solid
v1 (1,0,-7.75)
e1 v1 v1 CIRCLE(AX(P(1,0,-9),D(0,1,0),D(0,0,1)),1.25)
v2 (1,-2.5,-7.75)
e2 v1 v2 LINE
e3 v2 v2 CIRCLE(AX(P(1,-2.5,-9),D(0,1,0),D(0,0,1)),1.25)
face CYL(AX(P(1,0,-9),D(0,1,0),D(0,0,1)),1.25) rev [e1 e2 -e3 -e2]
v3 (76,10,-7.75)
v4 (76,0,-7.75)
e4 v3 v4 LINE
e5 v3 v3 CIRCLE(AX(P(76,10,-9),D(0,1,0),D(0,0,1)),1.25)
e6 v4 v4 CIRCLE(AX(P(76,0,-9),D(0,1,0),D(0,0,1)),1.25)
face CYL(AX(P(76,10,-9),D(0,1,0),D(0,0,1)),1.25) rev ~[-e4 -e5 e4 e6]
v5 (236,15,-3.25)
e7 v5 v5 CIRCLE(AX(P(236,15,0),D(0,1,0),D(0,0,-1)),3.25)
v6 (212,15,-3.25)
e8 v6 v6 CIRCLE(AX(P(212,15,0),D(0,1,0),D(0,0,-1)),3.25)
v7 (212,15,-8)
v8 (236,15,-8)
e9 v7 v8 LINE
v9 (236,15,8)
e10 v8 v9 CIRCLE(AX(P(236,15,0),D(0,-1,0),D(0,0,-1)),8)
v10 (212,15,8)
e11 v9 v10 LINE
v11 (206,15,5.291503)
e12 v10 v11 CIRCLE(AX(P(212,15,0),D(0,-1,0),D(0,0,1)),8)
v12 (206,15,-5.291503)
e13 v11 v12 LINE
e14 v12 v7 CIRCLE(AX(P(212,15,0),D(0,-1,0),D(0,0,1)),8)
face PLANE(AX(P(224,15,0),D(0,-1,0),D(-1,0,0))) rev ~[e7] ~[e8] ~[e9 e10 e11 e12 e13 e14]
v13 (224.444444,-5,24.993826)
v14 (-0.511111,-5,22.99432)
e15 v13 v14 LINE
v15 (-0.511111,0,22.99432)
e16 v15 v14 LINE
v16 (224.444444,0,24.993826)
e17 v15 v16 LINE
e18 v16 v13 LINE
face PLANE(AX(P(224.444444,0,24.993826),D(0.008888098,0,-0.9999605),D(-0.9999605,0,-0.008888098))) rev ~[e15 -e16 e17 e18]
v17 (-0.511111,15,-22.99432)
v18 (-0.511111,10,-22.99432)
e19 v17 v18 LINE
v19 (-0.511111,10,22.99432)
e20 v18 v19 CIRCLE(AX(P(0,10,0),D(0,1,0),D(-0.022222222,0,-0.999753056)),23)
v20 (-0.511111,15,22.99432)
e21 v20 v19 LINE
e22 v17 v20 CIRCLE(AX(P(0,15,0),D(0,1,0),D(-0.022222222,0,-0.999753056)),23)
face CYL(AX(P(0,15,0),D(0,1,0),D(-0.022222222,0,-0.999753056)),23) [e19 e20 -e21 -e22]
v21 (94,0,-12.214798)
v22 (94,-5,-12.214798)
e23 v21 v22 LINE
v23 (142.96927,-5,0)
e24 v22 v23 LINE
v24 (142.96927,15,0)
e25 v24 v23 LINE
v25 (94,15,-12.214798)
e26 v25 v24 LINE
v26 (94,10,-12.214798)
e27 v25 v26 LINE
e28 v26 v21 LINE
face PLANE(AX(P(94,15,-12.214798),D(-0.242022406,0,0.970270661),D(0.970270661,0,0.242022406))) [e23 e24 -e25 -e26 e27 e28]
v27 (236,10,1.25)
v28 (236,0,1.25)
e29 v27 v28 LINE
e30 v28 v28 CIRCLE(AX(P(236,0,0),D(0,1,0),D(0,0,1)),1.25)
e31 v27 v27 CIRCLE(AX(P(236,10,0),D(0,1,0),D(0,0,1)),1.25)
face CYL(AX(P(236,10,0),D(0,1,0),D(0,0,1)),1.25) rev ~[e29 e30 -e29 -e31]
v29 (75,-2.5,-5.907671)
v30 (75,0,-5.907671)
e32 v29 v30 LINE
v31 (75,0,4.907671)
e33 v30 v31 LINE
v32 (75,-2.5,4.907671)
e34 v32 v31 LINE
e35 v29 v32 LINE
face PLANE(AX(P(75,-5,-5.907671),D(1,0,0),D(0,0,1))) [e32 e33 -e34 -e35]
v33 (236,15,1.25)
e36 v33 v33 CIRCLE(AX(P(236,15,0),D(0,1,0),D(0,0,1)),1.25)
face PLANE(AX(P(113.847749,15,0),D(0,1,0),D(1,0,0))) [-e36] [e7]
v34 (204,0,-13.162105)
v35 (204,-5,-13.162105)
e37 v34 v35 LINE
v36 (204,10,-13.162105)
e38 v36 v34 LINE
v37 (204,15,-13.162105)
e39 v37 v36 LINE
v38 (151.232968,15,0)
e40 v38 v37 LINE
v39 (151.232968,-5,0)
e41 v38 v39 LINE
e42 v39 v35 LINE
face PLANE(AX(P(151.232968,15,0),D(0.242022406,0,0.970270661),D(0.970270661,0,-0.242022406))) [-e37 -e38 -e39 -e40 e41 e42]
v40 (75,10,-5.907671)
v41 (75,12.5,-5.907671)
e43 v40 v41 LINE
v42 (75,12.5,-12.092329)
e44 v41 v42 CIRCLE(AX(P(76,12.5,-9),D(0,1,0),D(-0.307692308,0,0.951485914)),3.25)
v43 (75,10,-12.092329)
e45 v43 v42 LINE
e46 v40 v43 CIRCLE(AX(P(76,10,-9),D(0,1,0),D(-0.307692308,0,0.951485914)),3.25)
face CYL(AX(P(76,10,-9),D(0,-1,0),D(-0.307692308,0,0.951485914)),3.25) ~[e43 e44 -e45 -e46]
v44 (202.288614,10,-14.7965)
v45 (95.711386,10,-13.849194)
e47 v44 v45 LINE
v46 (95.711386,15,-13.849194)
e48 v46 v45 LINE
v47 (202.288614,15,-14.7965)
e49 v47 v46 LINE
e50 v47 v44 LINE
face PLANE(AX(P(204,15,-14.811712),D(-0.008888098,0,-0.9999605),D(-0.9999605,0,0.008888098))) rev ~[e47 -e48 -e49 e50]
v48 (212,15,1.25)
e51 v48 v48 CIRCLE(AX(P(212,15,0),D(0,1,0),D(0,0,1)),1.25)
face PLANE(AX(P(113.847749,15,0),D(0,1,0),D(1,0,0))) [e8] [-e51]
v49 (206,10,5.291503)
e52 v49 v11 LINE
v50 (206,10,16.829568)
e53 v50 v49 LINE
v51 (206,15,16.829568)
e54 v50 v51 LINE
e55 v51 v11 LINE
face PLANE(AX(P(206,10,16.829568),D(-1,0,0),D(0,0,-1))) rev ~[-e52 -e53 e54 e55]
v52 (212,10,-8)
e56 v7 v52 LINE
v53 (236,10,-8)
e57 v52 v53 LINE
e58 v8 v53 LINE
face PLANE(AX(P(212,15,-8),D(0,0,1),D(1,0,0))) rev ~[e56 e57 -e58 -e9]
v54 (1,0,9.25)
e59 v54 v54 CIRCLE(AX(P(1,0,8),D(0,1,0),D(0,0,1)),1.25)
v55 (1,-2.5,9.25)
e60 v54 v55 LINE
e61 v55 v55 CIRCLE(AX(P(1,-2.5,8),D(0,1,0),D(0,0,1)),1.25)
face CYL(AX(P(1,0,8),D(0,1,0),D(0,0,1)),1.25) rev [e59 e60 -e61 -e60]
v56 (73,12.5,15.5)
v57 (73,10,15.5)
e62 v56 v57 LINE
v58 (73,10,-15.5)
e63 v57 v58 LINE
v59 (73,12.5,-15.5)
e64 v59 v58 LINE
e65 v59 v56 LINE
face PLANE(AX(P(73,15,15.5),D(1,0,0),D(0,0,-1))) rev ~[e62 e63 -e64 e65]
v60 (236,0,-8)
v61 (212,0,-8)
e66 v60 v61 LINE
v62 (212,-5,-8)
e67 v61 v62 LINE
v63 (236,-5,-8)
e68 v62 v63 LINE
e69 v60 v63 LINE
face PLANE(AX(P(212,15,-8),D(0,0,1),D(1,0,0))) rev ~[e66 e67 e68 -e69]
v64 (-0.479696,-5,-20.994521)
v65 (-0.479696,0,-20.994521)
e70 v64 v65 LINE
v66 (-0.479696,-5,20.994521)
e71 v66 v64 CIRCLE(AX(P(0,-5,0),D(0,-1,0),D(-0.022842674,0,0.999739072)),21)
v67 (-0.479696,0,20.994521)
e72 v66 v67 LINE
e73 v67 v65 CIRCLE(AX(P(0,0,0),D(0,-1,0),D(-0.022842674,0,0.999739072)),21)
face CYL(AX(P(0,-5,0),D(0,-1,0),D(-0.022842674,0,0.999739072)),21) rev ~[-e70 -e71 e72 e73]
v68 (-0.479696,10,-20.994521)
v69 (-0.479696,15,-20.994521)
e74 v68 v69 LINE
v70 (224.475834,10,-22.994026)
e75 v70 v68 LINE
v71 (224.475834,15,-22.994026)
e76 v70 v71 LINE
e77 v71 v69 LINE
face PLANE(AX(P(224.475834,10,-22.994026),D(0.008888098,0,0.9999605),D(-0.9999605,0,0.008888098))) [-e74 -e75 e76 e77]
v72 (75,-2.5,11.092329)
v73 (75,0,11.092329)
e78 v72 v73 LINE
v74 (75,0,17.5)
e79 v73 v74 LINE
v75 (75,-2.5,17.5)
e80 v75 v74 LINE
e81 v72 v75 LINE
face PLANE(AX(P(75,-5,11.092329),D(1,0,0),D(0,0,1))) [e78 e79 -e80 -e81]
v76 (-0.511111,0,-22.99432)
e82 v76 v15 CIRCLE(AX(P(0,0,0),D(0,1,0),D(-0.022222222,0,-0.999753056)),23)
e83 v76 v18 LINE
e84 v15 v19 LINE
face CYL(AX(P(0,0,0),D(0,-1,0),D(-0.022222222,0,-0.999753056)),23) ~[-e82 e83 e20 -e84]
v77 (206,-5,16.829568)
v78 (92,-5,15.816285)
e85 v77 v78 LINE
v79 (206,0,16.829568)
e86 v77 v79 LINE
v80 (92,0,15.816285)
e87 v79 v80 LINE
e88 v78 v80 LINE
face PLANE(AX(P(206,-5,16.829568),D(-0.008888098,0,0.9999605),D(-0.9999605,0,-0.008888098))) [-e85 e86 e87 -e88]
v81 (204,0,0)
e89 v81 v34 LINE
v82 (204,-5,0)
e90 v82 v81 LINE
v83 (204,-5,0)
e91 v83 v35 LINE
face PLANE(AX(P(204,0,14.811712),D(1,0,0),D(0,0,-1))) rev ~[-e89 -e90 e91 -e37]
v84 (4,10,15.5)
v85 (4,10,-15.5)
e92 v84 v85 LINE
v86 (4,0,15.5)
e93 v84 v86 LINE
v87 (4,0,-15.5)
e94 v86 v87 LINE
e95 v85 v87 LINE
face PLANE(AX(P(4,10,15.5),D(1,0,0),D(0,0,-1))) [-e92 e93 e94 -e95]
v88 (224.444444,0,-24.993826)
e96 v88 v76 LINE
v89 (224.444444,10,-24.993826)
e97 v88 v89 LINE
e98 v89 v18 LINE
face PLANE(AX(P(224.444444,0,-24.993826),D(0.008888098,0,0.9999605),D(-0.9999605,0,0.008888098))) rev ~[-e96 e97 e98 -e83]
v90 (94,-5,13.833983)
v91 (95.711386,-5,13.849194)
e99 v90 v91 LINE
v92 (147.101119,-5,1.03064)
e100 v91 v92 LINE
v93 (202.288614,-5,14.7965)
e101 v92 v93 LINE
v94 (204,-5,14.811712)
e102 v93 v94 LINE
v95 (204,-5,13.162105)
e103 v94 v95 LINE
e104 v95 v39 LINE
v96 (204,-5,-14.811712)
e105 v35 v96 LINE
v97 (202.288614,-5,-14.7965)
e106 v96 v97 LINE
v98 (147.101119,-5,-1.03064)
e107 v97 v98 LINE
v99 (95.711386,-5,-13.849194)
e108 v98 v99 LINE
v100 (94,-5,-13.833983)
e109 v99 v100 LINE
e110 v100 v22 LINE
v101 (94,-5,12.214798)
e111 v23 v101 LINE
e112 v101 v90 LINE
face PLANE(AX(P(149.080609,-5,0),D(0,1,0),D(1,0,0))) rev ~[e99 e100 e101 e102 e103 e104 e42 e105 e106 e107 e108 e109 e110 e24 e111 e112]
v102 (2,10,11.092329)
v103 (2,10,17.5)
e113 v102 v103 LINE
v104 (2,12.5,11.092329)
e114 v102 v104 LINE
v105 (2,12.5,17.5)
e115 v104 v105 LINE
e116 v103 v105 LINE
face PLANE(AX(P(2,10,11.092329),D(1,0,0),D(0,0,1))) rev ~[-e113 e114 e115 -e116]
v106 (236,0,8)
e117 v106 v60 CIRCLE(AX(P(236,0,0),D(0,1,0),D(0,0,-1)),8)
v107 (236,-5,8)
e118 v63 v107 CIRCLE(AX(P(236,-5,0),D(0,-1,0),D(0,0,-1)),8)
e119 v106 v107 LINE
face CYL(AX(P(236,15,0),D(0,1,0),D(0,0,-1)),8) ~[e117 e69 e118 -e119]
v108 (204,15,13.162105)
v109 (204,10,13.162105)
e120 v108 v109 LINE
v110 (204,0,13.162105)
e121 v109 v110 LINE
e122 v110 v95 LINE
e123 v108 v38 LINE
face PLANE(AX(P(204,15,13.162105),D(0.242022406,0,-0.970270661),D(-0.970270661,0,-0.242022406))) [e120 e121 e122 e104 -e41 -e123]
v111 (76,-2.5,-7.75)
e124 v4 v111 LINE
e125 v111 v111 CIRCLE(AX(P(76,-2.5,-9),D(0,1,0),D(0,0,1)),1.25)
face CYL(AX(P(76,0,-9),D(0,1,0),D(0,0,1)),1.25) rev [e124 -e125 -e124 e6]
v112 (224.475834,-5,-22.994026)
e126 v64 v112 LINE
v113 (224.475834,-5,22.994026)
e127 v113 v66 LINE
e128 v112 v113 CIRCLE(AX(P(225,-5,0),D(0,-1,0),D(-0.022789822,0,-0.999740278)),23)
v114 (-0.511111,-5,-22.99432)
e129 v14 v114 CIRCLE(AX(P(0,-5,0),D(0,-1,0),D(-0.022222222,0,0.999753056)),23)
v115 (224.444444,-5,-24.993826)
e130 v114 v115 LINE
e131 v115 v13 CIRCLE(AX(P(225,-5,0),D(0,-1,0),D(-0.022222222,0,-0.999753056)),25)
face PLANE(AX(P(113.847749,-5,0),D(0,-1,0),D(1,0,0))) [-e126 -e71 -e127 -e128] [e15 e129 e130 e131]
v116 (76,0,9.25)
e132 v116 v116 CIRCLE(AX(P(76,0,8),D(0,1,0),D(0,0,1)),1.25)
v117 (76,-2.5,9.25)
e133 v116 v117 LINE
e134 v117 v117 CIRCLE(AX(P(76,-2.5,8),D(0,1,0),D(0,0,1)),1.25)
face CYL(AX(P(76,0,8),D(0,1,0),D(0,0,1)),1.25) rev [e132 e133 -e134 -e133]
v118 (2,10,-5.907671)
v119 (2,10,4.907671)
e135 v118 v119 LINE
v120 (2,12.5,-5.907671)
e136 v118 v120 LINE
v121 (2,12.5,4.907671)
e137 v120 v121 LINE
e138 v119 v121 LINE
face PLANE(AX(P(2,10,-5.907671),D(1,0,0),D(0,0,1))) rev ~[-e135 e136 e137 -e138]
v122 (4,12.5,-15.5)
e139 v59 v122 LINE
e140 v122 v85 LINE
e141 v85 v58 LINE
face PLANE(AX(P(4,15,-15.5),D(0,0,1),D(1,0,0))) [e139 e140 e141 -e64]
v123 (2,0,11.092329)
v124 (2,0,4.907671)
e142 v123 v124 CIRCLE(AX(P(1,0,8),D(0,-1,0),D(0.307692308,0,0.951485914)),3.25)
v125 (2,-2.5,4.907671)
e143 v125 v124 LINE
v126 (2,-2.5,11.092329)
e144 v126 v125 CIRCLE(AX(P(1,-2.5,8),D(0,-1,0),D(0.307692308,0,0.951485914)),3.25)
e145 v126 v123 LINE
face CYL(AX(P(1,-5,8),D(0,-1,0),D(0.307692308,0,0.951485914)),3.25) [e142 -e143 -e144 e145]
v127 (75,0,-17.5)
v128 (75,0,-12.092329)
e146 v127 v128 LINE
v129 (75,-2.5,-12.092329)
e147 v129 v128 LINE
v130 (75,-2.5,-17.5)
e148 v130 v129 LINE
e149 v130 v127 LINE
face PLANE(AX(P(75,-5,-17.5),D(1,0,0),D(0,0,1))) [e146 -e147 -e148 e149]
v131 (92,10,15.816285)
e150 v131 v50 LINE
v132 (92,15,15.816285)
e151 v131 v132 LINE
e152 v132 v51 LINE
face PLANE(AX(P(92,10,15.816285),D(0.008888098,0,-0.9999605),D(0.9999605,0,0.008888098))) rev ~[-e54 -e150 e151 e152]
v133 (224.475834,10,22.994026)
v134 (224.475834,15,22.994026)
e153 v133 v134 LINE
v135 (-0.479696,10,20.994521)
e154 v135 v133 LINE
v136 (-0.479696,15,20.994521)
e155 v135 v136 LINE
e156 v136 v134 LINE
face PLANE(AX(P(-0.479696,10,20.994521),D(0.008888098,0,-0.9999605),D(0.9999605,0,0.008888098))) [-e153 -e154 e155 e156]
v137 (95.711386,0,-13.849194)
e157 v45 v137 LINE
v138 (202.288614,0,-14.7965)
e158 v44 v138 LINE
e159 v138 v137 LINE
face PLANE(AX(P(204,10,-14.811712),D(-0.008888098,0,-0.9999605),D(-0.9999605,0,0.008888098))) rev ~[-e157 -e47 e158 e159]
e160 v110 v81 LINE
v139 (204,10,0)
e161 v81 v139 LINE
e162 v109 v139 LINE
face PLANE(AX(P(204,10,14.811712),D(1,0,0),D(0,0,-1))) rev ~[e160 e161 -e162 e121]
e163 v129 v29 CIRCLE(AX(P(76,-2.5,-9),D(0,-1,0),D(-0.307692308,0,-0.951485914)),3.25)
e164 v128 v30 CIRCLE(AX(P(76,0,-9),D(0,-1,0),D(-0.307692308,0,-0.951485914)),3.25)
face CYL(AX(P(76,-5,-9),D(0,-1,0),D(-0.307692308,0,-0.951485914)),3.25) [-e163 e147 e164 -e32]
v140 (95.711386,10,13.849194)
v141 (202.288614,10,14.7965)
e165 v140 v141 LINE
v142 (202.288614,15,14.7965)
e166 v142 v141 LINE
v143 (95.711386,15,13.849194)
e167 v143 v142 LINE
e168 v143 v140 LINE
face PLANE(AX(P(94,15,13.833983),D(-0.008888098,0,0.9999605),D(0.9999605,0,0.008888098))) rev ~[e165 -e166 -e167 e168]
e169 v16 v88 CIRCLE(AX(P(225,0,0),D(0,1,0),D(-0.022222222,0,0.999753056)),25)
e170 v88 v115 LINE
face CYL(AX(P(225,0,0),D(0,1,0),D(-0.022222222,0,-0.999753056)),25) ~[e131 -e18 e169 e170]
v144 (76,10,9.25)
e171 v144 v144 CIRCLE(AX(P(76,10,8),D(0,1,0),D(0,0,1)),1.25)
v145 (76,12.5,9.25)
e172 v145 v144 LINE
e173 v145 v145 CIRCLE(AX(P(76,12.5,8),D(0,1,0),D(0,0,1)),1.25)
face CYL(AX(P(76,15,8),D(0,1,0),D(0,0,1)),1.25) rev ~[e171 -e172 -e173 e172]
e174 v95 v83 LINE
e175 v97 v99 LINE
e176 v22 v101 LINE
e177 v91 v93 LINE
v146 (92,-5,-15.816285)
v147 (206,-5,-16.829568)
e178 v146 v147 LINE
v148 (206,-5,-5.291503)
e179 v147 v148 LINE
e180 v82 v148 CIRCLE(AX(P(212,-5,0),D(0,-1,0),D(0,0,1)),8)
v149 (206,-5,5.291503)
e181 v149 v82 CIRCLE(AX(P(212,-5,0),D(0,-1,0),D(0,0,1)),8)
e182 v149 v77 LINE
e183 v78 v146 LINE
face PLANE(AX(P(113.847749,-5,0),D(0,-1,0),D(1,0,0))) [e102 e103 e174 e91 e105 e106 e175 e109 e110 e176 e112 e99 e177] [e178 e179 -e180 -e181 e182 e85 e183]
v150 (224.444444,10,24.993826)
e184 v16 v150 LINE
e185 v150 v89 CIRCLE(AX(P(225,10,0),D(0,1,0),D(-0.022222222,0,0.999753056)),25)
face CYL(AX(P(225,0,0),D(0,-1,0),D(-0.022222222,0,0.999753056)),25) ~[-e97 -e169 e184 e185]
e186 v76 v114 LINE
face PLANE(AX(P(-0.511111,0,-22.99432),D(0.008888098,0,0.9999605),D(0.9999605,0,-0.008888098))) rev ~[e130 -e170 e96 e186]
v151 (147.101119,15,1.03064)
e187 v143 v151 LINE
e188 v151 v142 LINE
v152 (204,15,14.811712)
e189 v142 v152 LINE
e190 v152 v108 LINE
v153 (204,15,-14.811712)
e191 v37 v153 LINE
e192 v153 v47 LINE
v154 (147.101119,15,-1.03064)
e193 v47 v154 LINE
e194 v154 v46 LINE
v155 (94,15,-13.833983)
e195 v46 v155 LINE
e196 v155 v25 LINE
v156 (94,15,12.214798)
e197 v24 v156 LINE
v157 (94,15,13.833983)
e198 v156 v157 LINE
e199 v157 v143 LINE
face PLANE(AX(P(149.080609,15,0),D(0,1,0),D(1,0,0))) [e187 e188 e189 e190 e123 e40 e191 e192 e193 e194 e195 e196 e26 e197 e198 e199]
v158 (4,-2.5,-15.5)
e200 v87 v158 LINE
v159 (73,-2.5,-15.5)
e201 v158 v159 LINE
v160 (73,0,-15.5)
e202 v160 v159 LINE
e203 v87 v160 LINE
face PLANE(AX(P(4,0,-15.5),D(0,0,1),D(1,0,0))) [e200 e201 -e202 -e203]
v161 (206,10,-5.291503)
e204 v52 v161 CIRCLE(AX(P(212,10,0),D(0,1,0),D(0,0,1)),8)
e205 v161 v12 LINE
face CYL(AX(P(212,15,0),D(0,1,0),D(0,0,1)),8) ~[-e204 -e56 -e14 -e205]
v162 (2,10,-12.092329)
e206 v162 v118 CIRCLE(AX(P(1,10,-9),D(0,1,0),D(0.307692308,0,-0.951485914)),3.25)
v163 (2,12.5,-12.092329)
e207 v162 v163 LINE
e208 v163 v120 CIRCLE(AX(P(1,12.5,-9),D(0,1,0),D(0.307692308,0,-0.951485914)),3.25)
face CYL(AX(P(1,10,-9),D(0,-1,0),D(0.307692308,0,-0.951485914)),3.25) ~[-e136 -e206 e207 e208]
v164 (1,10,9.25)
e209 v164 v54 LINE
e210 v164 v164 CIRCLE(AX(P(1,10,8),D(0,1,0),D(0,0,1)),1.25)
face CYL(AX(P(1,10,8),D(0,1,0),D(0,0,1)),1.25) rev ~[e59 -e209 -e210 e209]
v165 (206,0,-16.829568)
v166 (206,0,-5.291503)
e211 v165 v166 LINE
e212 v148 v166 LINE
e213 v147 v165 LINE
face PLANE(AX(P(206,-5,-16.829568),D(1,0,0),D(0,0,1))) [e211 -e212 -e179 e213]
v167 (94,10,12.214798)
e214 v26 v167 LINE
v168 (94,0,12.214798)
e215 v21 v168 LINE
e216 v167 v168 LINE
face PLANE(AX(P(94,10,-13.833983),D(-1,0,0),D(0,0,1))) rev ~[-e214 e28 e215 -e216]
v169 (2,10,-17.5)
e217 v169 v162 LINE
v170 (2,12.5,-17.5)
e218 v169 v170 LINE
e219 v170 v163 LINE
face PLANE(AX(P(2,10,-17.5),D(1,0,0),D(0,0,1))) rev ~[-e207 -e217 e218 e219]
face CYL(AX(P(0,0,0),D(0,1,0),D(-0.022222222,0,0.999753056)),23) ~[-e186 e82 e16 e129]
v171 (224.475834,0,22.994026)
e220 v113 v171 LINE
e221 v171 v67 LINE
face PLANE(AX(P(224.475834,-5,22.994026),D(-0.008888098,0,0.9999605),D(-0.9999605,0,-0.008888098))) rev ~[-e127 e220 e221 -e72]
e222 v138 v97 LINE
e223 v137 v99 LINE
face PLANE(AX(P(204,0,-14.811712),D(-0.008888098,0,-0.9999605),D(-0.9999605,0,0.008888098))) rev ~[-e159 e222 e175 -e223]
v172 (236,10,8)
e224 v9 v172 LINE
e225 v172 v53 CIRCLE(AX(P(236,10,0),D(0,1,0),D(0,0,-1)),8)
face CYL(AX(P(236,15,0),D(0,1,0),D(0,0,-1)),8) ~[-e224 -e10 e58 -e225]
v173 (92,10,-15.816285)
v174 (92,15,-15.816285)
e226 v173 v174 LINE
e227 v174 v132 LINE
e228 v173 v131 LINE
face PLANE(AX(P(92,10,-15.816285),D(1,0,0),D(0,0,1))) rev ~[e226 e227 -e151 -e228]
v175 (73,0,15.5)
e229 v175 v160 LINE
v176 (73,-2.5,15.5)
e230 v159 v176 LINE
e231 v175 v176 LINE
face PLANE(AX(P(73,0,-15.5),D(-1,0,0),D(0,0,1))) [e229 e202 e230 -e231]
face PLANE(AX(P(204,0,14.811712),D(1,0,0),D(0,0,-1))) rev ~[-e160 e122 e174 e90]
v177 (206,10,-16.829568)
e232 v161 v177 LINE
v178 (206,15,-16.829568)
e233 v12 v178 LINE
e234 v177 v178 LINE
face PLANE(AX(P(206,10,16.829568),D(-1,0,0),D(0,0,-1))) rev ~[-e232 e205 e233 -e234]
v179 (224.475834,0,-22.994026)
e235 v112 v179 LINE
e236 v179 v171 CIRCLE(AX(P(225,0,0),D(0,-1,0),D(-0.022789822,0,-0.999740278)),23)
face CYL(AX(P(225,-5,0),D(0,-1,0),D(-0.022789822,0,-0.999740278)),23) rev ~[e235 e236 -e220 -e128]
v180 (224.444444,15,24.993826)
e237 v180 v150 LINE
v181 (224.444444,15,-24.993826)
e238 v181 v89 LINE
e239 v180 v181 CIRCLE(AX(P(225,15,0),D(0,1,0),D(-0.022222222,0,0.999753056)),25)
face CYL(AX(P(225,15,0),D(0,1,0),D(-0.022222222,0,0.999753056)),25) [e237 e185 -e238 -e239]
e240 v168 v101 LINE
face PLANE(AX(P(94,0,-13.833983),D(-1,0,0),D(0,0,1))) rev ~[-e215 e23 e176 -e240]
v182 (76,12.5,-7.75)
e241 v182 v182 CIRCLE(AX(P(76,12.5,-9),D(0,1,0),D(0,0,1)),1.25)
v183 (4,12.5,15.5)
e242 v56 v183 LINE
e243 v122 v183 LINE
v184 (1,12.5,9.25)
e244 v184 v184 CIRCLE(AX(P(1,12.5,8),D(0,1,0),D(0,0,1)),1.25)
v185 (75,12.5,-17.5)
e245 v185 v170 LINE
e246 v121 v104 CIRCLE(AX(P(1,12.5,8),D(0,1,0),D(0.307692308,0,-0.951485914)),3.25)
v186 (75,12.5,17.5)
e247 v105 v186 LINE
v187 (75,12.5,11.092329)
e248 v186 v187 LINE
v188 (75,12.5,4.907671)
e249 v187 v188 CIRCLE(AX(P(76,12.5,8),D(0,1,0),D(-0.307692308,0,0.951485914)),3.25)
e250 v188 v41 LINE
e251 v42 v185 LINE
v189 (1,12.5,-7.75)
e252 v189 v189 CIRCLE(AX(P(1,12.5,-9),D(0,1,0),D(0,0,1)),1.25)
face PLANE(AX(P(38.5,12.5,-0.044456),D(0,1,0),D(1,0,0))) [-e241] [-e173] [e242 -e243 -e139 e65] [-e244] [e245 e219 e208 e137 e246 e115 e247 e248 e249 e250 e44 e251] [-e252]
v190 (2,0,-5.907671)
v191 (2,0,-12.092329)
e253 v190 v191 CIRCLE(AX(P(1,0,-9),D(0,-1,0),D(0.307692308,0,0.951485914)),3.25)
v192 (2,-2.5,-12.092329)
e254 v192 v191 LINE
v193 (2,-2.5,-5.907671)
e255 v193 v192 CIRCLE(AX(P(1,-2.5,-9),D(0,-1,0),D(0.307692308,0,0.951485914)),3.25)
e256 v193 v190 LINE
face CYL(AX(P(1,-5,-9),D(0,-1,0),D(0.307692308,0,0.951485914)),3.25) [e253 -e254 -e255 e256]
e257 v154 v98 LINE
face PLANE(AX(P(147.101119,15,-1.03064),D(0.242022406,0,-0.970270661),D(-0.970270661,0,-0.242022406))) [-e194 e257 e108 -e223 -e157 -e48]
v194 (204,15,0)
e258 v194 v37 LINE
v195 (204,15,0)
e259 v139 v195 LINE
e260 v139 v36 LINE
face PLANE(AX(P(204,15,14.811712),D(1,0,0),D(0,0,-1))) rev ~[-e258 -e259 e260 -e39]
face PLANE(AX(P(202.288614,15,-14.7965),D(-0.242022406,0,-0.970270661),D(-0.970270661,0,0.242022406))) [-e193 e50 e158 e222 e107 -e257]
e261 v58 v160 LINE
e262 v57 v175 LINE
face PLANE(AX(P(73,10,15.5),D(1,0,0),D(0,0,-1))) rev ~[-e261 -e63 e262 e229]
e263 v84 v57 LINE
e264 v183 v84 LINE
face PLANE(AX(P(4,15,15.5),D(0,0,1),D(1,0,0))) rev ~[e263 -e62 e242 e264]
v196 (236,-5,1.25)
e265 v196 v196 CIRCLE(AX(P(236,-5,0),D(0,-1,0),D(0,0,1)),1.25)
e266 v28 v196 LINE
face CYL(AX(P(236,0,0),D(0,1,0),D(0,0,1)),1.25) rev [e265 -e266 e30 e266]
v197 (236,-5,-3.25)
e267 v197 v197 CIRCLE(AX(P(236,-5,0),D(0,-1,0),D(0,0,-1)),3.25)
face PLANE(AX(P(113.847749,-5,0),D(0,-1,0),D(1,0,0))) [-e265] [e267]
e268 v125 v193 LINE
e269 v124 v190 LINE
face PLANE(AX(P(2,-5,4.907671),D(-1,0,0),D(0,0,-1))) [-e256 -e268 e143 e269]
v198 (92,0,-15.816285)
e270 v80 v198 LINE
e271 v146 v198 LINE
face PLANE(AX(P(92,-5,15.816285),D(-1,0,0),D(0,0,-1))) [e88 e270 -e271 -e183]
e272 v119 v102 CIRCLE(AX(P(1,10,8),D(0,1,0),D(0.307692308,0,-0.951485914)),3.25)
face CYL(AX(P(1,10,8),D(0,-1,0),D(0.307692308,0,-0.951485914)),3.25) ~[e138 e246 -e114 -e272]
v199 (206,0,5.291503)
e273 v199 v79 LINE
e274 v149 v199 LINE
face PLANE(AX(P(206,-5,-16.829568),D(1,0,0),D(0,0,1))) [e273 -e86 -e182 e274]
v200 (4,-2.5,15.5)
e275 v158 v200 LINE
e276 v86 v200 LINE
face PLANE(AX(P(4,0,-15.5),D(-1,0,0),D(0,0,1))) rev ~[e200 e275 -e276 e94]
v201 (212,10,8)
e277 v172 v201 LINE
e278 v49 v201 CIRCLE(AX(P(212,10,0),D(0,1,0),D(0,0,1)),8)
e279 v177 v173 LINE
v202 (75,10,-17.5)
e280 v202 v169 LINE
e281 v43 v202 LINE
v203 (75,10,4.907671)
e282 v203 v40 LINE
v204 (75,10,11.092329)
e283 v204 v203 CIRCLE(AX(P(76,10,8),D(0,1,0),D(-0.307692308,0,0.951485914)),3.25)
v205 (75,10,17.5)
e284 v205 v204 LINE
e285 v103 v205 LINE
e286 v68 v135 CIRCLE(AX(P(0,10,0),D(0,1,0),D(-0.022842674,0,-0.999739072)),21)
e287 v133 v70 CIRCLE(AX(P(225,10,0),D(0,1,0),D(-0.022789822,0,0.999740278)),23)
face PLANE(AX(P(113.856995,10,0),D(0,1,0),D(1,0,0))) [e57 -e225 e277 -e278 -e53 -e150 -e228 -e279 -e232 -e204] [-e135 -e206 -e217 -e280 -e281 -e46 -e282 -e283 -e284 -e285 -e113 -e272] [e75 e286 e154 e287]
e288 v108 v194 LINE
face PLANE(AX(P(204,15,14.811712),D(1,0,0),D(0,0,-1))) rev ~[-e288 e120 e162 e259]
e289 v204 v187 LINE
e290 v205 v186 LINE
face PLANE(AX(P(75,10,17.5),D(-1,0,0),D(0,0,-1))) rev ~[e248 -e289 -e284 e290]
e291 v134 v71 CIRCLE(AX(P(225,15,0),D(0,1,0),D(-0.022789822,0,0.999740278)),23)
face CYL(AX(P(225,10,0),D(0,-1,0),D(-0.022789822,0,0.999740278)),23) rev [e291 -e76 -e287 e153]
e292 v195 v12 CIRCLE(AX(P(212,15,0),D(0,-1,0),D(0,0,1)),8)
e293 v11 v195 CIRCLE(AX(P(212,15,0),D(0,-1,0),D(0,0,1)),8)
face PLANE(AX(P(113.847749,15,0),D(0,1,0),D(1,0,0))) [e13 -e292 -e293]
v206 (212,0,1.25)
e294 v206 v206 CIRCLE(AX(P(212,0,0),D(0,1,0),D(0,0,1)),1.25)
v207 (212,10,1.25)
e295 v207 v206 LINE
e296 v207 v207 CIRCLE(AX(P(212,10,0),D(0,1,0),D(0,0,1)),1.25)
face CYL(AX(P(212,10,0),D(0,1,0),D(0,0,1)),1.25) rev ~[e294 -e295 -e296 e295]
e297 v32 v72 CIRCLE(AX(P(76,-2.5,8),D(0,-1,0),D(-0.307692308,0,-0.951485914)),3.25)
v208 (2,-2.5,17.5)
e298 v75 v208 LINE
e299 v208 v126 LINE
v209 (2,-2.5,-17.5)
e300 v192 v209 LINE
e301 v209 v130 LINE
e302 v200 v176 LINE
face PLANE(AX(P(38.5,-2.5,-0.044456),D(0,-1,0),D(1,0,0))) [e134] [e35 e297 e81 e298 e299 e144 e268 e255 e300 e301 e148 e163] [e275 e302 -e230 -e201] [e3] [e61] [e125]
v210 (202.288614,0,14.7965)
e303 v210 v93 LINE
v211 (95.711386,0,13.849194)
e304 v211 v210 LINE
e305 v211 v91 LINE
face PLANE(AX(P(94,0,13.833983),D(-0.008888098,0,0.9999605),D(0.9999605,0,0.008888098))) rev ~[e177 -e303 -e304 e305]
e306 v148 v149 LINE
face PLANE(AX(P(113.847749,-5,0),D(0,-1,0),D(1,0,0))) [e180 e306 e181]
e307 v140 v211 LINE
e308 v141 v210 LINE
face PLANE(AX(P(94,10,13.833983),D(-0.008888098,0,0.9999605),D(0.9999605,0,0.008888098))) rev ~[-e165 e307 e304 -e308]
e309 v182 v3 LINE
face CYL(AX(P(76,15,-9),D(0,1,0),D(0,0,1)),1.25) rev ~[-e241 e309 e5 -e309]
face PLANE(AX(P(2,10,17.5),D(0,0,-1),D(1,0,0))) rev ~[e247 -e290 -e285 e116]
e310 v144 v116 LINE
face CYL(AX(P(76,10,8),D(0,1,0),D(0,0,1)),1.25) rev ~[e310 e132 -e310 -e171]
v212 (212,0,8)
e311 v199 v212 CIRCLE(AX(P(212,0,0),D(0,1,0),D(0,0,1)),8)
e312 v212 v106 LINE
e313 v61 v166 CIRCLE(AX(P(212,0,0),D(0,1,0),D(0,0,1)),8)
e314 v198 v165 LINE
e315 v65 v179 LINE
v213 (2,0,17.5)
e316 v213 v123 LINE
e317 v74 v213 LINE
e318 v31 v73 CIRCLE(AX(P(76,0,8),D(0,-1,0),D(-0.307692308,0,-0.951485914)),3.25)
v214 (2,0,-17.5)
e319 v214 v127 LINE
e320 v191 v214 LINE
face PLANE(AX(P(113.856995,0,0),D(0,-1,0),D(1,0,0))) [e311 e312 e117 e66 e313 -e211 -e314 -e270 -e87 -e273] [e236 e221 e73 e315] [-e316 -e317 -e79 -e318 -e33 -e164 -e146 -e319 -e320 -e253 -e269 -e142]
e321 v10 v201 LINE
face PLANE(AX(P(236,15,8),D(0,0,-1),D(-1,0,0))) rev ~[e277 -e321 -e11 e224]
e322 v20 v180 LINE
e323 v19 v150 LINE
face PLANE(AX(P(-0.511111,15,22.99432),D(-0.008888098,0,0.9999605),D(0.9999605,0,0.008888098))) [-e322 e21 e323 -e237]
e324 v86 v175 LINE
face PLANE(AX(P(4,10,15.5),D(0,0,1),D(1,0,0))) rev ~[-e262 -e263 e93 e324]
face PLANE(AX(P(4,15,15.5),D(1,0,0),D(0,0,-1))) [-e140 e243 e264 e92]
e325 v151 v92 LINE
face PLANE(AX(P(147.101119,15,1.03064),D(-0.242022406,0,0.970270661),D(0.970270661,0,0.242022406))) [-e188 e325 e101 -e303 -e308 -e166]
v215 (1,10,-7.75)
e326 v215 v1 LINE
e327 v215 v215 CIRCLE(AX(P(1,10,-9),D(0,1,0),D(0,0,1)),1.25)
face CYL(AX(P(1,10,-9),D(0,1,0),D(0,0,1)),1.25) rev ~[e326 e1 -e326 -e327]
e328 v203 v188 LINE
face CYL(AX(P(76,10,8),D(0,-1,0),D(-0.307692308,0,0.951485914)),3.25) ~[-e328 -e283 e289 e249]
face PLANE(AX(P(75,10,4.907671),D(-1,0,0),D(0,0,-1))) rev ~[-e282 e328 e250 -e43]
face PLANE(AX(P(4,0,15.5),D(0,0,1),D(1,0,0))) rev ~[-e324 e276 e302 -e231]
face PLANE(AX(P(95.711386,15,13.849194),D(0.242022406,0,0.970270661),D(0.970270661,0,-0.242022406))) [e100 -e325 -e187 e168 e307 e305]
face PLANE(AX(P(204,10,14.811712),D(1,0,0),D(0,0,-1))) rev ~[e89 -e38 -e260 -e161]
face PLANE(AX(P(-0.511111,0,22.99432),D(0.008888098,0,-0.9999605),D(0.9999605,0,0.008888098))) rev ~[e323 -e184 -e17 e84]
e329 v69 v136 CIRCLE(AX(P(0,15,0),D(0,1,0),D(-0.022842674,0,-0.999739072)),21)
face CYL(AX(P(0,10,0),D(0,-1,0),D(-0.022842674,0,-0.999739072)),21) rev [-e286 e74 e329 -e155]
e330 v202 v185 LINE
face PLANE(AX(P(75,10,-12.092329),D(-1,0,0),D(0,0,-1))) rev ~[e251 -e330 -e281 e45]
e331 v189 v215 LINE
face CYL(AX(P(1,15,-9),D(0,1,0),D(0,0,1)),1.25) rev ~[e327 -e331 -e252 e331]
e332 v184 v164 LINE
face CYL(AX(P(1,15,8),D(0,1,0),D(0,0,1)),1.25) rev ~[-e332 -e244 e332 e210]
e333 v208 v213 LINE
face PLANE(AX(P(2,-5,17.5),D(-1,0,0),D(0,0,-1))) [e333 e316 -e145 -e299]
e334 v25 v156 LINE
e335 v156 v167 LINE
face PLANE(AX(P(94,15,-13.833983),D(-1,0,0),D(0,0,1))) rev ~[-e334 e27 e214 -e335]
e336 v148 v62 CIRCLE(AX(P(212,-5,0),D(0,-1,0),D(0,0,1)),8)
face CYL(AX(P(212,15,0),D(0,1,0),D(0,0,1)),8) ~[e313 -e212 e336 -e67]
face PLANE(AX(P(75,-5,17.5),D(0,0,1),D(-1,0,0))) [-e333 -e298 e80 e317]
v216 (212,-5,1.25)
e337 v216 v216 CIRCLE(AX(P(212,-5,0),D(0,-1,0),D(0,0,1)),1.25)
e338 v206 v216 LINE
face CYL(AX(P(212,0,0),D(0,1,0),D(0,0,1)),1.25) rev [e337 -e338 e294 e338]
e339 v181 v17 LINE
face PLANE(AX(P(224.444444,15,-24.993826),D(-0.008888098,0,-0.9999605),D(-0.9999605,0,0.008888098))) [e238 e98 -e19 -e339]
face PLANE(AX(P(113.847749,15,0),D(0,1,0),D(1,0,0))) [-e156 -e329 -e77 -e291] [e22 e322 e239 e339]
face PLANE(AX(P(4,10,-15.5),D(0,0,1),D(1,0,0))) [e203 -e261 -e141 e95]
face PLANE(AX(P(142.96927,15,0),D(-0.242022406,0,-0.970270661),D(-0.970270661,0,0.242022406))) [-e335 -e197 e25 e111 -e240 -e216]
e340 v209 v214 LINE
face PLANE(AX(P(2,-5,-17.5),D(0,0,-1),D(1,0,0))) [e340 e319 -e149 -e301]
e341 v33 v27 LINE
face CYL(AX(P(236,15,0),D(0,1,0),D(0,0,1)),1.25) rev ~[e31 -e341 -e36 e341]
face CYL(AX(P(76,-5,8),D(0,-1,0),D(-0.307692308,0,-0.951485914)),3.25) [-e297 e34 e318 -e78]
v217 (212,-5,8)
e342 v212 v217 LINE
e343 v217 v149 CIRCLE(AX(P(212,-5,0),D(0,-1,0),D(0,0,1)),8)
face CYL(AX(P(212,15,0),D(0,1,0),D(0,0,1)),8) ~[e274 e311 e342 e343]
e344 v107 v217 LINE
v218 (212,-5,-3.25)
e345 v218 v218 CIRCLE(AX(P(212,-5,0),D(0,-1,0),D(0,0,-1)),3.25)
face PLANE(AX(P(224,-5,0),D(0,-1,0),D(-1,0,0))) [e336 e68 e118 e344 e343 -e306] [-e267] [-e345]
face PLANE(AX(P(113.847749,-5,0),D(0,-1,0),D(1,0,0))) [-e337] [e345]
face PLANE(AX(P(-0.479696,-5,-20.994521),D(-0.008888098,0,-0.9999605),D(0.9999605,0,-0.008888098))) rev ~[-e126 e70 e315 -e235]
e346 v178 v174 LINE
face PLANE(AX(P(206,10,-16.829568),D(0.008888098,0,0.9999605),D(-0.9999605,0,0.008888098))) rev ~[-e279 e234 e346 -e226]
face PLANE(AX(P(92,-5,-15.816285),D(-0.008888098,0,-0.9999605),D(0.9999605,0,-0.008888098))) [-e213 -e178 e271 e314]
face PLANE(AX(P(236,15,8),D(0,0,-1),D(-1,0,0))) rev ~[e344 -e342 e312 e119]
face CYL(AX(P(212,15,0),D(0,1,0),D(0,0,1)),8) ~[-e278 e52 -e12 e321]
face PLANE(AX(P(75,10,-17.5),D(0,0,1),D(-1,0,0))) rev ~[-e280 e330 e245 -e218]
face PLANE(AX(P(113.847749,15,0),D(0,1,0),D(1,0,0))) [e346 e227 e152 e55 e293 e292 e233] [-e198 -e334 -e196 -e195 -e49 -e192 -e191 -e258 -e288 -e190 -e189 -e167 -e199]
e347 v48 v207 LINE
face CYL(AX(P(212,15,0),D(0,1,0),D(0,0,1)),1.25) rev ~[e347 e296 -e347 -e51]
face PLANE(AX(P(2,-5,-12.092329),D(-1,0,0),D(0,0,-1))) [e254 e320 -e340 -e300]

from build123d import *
from build123d.topology import SkipClean

# Parameters (mm, degrees)
SKETCH1_R           = 1.25
BOSS_EXTRUDE2_DEPTH = 10
BOSS_EXTRUDE3_START = -10
BOSS_EXTRUDE3_DEPTH = 10
SKETCH4_R           = 1.25
SKETCH4_W           = 69
SKETCH4_H           = 31
CUT_EXTRUDE1_DEPTH  = 10
SKETCH5_R           = 1.25
SKETCH5_W           = 69
SKETCH5_H           = 31
BOSS_EXTRUDE4_DEPTH = 5
SKETCH6_R           = 3.25
CUT_EXTRUDE2_DEPTH  = 5
BOSS_EXTRUDE5_START = 5
SKETCH7_R           = 1.25
SKETCH7_W           = 69
SKETCH7_H           = 31
BOSS_EXTRUDE5_DEPTH = 5
CUT_EXTRUDE3_START  = -5
SKETCH8_R           = 3.25
CUT_EXTRUDE3_DEPTH  = 5
CUT_EXTRUDE4_DEPTH  = 2.5
CUT_EXTRUDE5_START  = -2.5
CUT_EXTRUDE5_DEPTH  = 2.5
SKETCH13_R          = 1.25
BOSS_EXTRUDE6_DEPTH = 20
BOSS_EXTRUDE7_DEPTH = 20


with BuildPart() as part:
    # Sketch1 → Boss-Extrude2 (new body)
    with BuildSketch(Plane(origin=(0, 0, 0), x_dir=(1, 0, 0), z_dir=(0, 1, 0))):
        with BuildLine():
            Line((224.444444444, 24.993826398), (-0.444444444, 19.995061119))
            ThreePointArc((-0.444444444, 19.995061119), (-20, 0), (-0.444444444, -19.995061119))
            Line((-0.444444444, -19.995061119), (224.444444444, -24.993826398))
            ThreePointArc((224.444444444, -24.993826398), (250, 0), (224.444444444, 24.993826398))
        make_face()
        with Locations(Location((1, -8, 0), (0, 0, 270))):
            Circle(SKETCH1_R, mode=Mode.SUBTRACT)
        Polygon((4, -15.5), (4, 0), (4, 9), (4, 15.5), (73, 15.5), (73, -15.5), align=None, mode=Mode.SUBTRACT)
        with Locations(Location((76, -8, 0), (0, 0, 270))):
            Circle(SKETCH1_R, mode=Mode.SUBTRACT)
        Polygon((94, -12.091874906), (94, 0), (94, 12.091874906), (204, 14.53692314), (204, 0), (204, -14.53692314), align=None, mode=Mode.SUBTRACT)
        with Locations(Location((212, 0, 0), (0, 0, 270))):
            Circle(SKETCH1_R, mode=Mode.SUBTRACT)
        with Locations(Location((236, 0, 0), (0, 0, 270))):
            Circle(SKETCH1_R, mode=Mode.SUBTRACT)
        with Locations(Location((1, 9, 0), (0, 0, 270))):
            Circle(SKETCH1_R, mode=Mode.SUBTRACT)
        with Locations(Location((76, 9, 0), (0, 0, 270))):
            Circle(SKETCH1_R, mode=Mode.SUBTRACT)
    extrude(amount=BOSS_EXTRUDE2_DEPTH)

    # Sketch3 → Boss-Extrude3 (add)
    with BuildSketch(Plane(origin=(0, 10, 0), x_dir=(1, 0, 0), z_dir=(0, 1, 0)).offset(BOSS_EXTRUDE3_START)):
        with BuildLine():
            Line((-0.511111111, -22.994320286), (224.444444444, -24.993826398))
            ThreePointArc((224.444444444, -24.993826398), (250, 0), (224.444444444, 24.993826398))
            Line((224.444444444, 24.993826398), (-0.511111111, 22.994320286))
            ThreePointArc((-0.511111111, 22.994320286), (-23, 0), (-0.511111111, -22.994320286))
        make_face()
    extrude(amount=BOSS_EXTRUDE3_DEPTH)

    # Sketch4 → Cut-Extrude1 (cut)
    with BuildSketch(Plane(origin=(0, 10, 0), x_dir=(1, 0, 0), z_dir=(0, 1, 0))):
        with Locations(Location((1, 9, 0), (0, 0, 270))):
            Circle(SKETCH4_R)
        with Locations(Location((1, -8, 0), (0, 0, 270))):
            Circle(SKETCH4_R)
        with Locations(Location((76, 9, 0), (0, 0, 270))):
            Circle(SKETCH4_R)
        with Locations(Location((76, -8, 0), (0, 0, 270))):
            Circle(SKETCH4_R)
        with Locations(Location((212, 0, 0), (0, 0, 270))):
            Circle(SKETCH4_R)
        with Locations(Location((236, 0, 0), (0, 0, 270))):
            Circle(SKETCH4_R)
        with Locations((38.5, 0)):
            Rectangle(SKETCH4_W, SKETCH4_H)
        Polygon((204, -14.81171197), (204, 14.81171197), (94, 13.833982517), (94, -13.833982517), align=None)
    extrude(amount=-CUT_EXTRUDE1_DEPTH, mode=Mode.SUBTRACT)

    # Sketch5 → Boss-Extrude4 (add)
    with SkipClean():  # the faces are left unmerged after this step: merging them gives an invalid solid
        with BuildSketch(Plane.XZ):
            with BuildLine():
                Line((-0.511111111, -22.994320286), (224.444444444, -24.993826398))
                ThreePointArc((224.444444444, -24.993826398), (250, 0), (224.444444444, 24.993826398))
                Line((224.444444444, 24.993826398), (-0.511111111, 22.994320286))
                ThreePointArc((-0.511111111, 22.994320286), (-23, 0), (-0.511111111, -22.994320286))
            make_face()
            with Locations(Location((1, 8, 0), (0, 0, 90))):
                Circle(SKETCH5_R, mode=Mode.SUBTRACT)
            with Locations(Location((1, -9, 0), (0, 0, 90))):
                Circle(SKETCH5_R, mode=Mode.SUBTRACT)
            with Locations(Location((76, 8, 0), (0, 0, 90))):
                Circle(SKETCH5_R, mode=Mode.SUBTRACT)
            with Locations(Location((76, -9, 0), (0, 0, 90))):
                Circle(SKETCH5_R, mode=Mode.SUBTRACT)
            with Locations(Location((212, 0, 0), (0, 0, 90))):
                Circle(SKETCH5_R, mode=Mode.SUBTRACT)
            with Locations(Location((236, 0, 0), (0, 0, 90))):
                Circle(SKETCH5_R, mode=Mode.SUBTRACT)
            with Locations((38.5, 0)):
                Rectangle(SKETCH5_W, SKETCH5_H, mode=Mode.SUBTRACT)
            Polygon((204, -14.81171197), (94, -13.833982517), (94, 13.833982517), (204, 14.81171197), align=None, mode=Mode.SUBTRACT)
        extrude(amount=BOSS_EXTRUDE4_DEPTH)

    # Sketch6 → Cut-Extrude2 (cut)
    with SkipClean():  # the faces are left unmerged after this step: merging them gives an invalid solid
        with BuildSketch(Plane.XZ.offset(5)):
            with BuildLine():
                Line((-0.479696157, -20.994520514), (224.475834105, -22.994026401))
                ThreePointArc((224.475834105, -22.994026401), (248, 0), (224.475834105, 22.994026401))
                Line((224.475834105, 22.994026401), (-0.479696157, 20.994520514))
                ThreePointArc((-0.479696157, 20.994520514), (-21, 0), (-0.479696157, -20.994520514))
            make_face()
            with Locations(Location((212, 0, 0), (0, 0, 270))):
                Circle(SKETCH6_R, mode=Mode.SUBTRACT)
            with Locations(Location((236, 0, 0), (0, 0, 270))):
                Circle(SKETCH6_R, mode=Mode.SUBTRACT)
            with BuildLine():
                Line((2, 4.907670781), (2, -5.907670781))
                ThreePointArc((2, -5.907670781), (-2.25, -9), (2, -12.092329219))
                Line((2, -12.092329219), (2, -17.5))
                Line((2, -17.5), (75, -17.5))
                Line((75, -17.5), (75, -12.092329219))
                ThreePointArc((75, -12.092329219), (79.25, -9), (75, -5.907670781))
                Line((75, -5.907670781), (75, 4.907670781))
                ThreePointArc((75, 4.907670781), (79.25, 8), (75, 11.092329219))
                Line((75, 11.092329219), (75, 17.5))
                Line((75, 17.5), (2, 17.5))
                Line((2, 17.5), (2, 11.092329219))
                ThreePointArc((2, 11.092329219), (-2.25, 8), (2, 4.907670781))
            make_face(mode=Mode.SUBTRACT)
            Polygon((92, 15.816284621), (92, -15.816284621), (206, -16.829567872), (206, 16.829567872), align=None, mode=Mode.SUBTRACT)
        extrude(amount=-CUT_EXTRUDE2_DEPTH, mode=Mode.SUBTRACT)

    # Sketch7 → Boss-Extrude5 (add)
    with SkipClean():  # the faces are left unmerged after this step: merging them gives an invalid solid
        with BuildSketch(Plane(origin=(0, 10, 0), x_dir=(1, 0, 0), z_dir=(0, 1, 0)).offset(BOSS_EXTRUDE5_START)):
            with BuildLine():
                Line((224.444444444, 24.993826398), (-0.511111111, 22.994320286))
                ThreePointArc((-0.511111111, 22.994320286), (-23, 0), (-0.511111111, -22.994320286))
                Line((-0.511111111, -22.994320286), (224.444444444, -24.993826398))
                ThreePointArc((224.444444444, -24.993826398), (250, 0), (224.444444444, 24.993826398))
            make_face()
            with Locations(Location((212, 0, 0), (0, 0, 270))):
                Circle(SKETCH7_R, mode=Mode.SUBTRACT)
            with Locations(Location((76, 9, 0), (0, 0, 270))):
                Circle(SKETCH7_R, mode=Mode.SUBTRACT)
            with Locations(Location((76, -8, 0), (0, 0, 270))):
                Circle(SKETCH7_R, mode=Mode.SUBTRACT)
            with Locations(Location((1, 9, 0), (0, 0, 270))):
                Circle(SKETCH7_R, mode=Mode.SUBTRACT)
            with Locations(Location((1, -8, 0), (0, 0, 270))):
                Circle(SKETCH7_R, mode=Mode.SUBTRACT)
            with Locations(Location((236, 0, 0), (0, 0, 270))):
                Circle(SKETCH7_R, mode=Mode.SUBTRACT)
            with Locations((38.5, 0)):
                Rectangle(SKETCH7_W, SKETCH7_H, mode=Mode.SUBTRACT)
            Polygon((94, 13.833982517), (94, -13.833982517), (204, -14.81171197), (204, 14.81171197), align=None, mode=Mode.SUBTRACT)
        extrude(amount=-BOSS_EXTRUDE5_DEPTH)

    # Sketch8 → Cut-Extrude3 (cut)
    with SkipClean():  # the faces are left unmerged after this step: merging them gives an invalid solid
        with BuildSketch(Plane(origin=(0, 15, 0), x_dir=(1, 0, 0), z_dir=(0, 1, 0)).offset(CUT_EXTRUDE3_START)):
            with BuildLine():
                Line((224.475834105, 22.994026401), (-0.479696157, 20.994520514))
                ThreePointArc((-0.479696157, 20.994520514), (-21, 0), (-0.479696157, -20.994520514))
                Line((-0.479696157, -20.994520514), (224.475834105, -22.994026401))
                ThreePointArc((224.475834105, -22.994026401), (248, 0), (224.475834105, 22.994026401))
            make_face()
            with Locations(Location((212, 0, 0), (0, 0, 90))):
                Circle(SKETCH8_R, mode=Mode.SUBTRACT)
            with Locations(Location((236, 0, 0), (0, 0, 90))):
                Circle(SKETCH8_R, mode=Mode.SUBTRACT)
            with BuildLine():
                Line((75, -4.907670781), (75, 5.907670781))
                ThreePointArc((75, 5.907670781), (79.25, 9), (75, 12.092329219))
                Line((75, 12.092329219), (75, 17.5))
                Line((75, 17.5), (2, 17.5))
                Line((2, 17.5), (2, 12.092329219))
                ThreePointArc((2, 12.092329219), (-2.25, 9), (2, 5.907670781))
                Line((2, 5.907670781), (2, -4.907670781))
                ThreePointArc((2, -4.907670781), (-2.25, -8), (2, -11.092329219))
                Line((2, -11.092329219), (2, -17.5))
                Line((2, -17.5), (75, -17.5))
                Line((75, -17.5), (75, -11.092329219))
                ThreePointArc((75, -11.092329219), (79.25, -8), (75, -4.907670781))
            make_face(mode=Mode.SUBTRACT)
            Polygon((206, 16.829567872), (92, 15.816284621), (92, -15.816284621), (206, -16.829567872), align=None, mode=Mode.SUBTRACT)
        extrude(amount=CUT_EXTRUDE3_DEPTH, mode=Mode.SUBTRACT)

    # Sketch9 → Cut-Extrude4 (cut)
    with SkipClean():  # the faces are left unmerged after this step: merging them gives an invalid solid
        with BuildSketch(Plane.XZ.offset(5)):
            with BuildLine():
                Line((2, 17.5), (2, 11.092329219))
                ThreePointArc((2, 11.092329219), (-2.25, 8), (2, 4.907670781))
                Line((2, 4.907670781), (2, -5.907670781))
                ThreePointArc((2, -5.907670781), (-2.25, -9), (2, -12.092329219))
                Line((2, -12.092329219), (2, -17.5))
                Line((2, -17.5), (75, -17.5))
                Line((75, -17.5), (75, -12.092329219))
                ThreePointArc((75, -12.092329219), (79.25, -9), (75, -5.907670781))
                Line((75, -5.907670781), (75, 4.907670781))
                ThreePointArc((75, 4.907670781), (79.25, 8), (75, 11.092329219))
                Line((75, 11.092329219), (75, 17.5))
                Line((75, 17.5), (2, 17.5))
            make_face()
        extrude(amount=-CUT_EXTRUDE4_DEPTH, mode=Mode.SUBTRACT)

    # Sketch10 → Cut-Extrude5 (cut)
    with SkipClean():  # the faces are left unmerged after this step: merging them gives an invalid solid
        with BuildSketch(Plane(origin=(0, 15, 0), x_dir=(1, 0, 0), z_dir=(0, 1, 0)).offset(CUT_EXTRUDE5_START)):
            with BuildLine():
                Line((75, -4.907670781), (75, 5.907670781))
                ThreePointArc((75, 5.907670781), (79.25, 9), (75, 12.092329219))
                Line((75, 12.092329219), (75, 17.5))
                Line((75, 17.5), (2, 17.5))
                Line((2, 17.5), (2, 12.092329219))
                ThreePointArc((2, 12.092329219), (-2.25, 9), (2, 5.907670781))
                Line((2, 5.907670781), (2, -4.907670781))
                ThreePointArc((2, -4.907670781), (-2.25, -8), (2, -11.092329219))
                Line((2, -11.092329219), (2, -17.5))
                Line((2, -17.5), (75, -17.5))
                Line((75, -17.5), (75, -11.092329219))
                ThreePointArc((75, -11.092329219), (79.25, -8), (75, -4.907670781))
            make_face()
        extrude(amount=CUT_EXTRUDE5_DEPTH, mode=Mode.SUBTRACT)

    # Sketch13 → Boss-Extrude6 (add)
    with SkipClean():  # the faces are left unmerged after this step: merging them gives an invalid solid
        with BuildSketch(Plane(origin=(0, 15, 0), x_dir=(1, 0, 0), z_dir=(0, 1, 0))):
            with BuildLine():
                Line((212, 8), (236, 8))
                ThreePointArc((236, 8), (244, 0), (236, -8))
                Line((236, -8), (212, -8))
                ThreePointArc((212, -8), (204, 0), (212, 8))
            make_face()
            with Locations(Location((236, 0, 0), (0, 0, 270))):
                Circle(SKETCH13_R, mode=Mode.SUBTRACT)
            with Locations(Location((212, 0, 0), (0, 0, 270))):
                Circle(SKETCH13_R, mode=Mode.SUBTRACT)
        extrude(amount=-BOSS_EXTRUDE6_DEPTH)

    # Sketch16 → Boss-Extrude7 (add)
    with SkipClean():  # the faces are left unmerged after this step: merging them gives an invalid solid
        with BuildSketch(Plane(origin=(0, 15, 0), x_dir=(1, 0, 0), z_dir=(0, 1, 0))):
            Polygon((94, 12.214798443), (142.969270097, 0), (94, -12.214798443), (94, -13.833982517), (95.711386414, -13.849194089), (147.101118952, -1.030640254), (202.288613586, -14.796500398), (204, -14.81171197), (204, -13.162104753), (151.232967807, 0), (204, 13.162104753), (204, 14.81171197), (202.288613586, 14.796500398), (147.101118952, 1.030640254), (95.711386414, 13.849194089), (94, 13.833982517), align=None)
        extrude(amount=-BOSS_EXTRUDE7_DEPTH)


solid = part.part
